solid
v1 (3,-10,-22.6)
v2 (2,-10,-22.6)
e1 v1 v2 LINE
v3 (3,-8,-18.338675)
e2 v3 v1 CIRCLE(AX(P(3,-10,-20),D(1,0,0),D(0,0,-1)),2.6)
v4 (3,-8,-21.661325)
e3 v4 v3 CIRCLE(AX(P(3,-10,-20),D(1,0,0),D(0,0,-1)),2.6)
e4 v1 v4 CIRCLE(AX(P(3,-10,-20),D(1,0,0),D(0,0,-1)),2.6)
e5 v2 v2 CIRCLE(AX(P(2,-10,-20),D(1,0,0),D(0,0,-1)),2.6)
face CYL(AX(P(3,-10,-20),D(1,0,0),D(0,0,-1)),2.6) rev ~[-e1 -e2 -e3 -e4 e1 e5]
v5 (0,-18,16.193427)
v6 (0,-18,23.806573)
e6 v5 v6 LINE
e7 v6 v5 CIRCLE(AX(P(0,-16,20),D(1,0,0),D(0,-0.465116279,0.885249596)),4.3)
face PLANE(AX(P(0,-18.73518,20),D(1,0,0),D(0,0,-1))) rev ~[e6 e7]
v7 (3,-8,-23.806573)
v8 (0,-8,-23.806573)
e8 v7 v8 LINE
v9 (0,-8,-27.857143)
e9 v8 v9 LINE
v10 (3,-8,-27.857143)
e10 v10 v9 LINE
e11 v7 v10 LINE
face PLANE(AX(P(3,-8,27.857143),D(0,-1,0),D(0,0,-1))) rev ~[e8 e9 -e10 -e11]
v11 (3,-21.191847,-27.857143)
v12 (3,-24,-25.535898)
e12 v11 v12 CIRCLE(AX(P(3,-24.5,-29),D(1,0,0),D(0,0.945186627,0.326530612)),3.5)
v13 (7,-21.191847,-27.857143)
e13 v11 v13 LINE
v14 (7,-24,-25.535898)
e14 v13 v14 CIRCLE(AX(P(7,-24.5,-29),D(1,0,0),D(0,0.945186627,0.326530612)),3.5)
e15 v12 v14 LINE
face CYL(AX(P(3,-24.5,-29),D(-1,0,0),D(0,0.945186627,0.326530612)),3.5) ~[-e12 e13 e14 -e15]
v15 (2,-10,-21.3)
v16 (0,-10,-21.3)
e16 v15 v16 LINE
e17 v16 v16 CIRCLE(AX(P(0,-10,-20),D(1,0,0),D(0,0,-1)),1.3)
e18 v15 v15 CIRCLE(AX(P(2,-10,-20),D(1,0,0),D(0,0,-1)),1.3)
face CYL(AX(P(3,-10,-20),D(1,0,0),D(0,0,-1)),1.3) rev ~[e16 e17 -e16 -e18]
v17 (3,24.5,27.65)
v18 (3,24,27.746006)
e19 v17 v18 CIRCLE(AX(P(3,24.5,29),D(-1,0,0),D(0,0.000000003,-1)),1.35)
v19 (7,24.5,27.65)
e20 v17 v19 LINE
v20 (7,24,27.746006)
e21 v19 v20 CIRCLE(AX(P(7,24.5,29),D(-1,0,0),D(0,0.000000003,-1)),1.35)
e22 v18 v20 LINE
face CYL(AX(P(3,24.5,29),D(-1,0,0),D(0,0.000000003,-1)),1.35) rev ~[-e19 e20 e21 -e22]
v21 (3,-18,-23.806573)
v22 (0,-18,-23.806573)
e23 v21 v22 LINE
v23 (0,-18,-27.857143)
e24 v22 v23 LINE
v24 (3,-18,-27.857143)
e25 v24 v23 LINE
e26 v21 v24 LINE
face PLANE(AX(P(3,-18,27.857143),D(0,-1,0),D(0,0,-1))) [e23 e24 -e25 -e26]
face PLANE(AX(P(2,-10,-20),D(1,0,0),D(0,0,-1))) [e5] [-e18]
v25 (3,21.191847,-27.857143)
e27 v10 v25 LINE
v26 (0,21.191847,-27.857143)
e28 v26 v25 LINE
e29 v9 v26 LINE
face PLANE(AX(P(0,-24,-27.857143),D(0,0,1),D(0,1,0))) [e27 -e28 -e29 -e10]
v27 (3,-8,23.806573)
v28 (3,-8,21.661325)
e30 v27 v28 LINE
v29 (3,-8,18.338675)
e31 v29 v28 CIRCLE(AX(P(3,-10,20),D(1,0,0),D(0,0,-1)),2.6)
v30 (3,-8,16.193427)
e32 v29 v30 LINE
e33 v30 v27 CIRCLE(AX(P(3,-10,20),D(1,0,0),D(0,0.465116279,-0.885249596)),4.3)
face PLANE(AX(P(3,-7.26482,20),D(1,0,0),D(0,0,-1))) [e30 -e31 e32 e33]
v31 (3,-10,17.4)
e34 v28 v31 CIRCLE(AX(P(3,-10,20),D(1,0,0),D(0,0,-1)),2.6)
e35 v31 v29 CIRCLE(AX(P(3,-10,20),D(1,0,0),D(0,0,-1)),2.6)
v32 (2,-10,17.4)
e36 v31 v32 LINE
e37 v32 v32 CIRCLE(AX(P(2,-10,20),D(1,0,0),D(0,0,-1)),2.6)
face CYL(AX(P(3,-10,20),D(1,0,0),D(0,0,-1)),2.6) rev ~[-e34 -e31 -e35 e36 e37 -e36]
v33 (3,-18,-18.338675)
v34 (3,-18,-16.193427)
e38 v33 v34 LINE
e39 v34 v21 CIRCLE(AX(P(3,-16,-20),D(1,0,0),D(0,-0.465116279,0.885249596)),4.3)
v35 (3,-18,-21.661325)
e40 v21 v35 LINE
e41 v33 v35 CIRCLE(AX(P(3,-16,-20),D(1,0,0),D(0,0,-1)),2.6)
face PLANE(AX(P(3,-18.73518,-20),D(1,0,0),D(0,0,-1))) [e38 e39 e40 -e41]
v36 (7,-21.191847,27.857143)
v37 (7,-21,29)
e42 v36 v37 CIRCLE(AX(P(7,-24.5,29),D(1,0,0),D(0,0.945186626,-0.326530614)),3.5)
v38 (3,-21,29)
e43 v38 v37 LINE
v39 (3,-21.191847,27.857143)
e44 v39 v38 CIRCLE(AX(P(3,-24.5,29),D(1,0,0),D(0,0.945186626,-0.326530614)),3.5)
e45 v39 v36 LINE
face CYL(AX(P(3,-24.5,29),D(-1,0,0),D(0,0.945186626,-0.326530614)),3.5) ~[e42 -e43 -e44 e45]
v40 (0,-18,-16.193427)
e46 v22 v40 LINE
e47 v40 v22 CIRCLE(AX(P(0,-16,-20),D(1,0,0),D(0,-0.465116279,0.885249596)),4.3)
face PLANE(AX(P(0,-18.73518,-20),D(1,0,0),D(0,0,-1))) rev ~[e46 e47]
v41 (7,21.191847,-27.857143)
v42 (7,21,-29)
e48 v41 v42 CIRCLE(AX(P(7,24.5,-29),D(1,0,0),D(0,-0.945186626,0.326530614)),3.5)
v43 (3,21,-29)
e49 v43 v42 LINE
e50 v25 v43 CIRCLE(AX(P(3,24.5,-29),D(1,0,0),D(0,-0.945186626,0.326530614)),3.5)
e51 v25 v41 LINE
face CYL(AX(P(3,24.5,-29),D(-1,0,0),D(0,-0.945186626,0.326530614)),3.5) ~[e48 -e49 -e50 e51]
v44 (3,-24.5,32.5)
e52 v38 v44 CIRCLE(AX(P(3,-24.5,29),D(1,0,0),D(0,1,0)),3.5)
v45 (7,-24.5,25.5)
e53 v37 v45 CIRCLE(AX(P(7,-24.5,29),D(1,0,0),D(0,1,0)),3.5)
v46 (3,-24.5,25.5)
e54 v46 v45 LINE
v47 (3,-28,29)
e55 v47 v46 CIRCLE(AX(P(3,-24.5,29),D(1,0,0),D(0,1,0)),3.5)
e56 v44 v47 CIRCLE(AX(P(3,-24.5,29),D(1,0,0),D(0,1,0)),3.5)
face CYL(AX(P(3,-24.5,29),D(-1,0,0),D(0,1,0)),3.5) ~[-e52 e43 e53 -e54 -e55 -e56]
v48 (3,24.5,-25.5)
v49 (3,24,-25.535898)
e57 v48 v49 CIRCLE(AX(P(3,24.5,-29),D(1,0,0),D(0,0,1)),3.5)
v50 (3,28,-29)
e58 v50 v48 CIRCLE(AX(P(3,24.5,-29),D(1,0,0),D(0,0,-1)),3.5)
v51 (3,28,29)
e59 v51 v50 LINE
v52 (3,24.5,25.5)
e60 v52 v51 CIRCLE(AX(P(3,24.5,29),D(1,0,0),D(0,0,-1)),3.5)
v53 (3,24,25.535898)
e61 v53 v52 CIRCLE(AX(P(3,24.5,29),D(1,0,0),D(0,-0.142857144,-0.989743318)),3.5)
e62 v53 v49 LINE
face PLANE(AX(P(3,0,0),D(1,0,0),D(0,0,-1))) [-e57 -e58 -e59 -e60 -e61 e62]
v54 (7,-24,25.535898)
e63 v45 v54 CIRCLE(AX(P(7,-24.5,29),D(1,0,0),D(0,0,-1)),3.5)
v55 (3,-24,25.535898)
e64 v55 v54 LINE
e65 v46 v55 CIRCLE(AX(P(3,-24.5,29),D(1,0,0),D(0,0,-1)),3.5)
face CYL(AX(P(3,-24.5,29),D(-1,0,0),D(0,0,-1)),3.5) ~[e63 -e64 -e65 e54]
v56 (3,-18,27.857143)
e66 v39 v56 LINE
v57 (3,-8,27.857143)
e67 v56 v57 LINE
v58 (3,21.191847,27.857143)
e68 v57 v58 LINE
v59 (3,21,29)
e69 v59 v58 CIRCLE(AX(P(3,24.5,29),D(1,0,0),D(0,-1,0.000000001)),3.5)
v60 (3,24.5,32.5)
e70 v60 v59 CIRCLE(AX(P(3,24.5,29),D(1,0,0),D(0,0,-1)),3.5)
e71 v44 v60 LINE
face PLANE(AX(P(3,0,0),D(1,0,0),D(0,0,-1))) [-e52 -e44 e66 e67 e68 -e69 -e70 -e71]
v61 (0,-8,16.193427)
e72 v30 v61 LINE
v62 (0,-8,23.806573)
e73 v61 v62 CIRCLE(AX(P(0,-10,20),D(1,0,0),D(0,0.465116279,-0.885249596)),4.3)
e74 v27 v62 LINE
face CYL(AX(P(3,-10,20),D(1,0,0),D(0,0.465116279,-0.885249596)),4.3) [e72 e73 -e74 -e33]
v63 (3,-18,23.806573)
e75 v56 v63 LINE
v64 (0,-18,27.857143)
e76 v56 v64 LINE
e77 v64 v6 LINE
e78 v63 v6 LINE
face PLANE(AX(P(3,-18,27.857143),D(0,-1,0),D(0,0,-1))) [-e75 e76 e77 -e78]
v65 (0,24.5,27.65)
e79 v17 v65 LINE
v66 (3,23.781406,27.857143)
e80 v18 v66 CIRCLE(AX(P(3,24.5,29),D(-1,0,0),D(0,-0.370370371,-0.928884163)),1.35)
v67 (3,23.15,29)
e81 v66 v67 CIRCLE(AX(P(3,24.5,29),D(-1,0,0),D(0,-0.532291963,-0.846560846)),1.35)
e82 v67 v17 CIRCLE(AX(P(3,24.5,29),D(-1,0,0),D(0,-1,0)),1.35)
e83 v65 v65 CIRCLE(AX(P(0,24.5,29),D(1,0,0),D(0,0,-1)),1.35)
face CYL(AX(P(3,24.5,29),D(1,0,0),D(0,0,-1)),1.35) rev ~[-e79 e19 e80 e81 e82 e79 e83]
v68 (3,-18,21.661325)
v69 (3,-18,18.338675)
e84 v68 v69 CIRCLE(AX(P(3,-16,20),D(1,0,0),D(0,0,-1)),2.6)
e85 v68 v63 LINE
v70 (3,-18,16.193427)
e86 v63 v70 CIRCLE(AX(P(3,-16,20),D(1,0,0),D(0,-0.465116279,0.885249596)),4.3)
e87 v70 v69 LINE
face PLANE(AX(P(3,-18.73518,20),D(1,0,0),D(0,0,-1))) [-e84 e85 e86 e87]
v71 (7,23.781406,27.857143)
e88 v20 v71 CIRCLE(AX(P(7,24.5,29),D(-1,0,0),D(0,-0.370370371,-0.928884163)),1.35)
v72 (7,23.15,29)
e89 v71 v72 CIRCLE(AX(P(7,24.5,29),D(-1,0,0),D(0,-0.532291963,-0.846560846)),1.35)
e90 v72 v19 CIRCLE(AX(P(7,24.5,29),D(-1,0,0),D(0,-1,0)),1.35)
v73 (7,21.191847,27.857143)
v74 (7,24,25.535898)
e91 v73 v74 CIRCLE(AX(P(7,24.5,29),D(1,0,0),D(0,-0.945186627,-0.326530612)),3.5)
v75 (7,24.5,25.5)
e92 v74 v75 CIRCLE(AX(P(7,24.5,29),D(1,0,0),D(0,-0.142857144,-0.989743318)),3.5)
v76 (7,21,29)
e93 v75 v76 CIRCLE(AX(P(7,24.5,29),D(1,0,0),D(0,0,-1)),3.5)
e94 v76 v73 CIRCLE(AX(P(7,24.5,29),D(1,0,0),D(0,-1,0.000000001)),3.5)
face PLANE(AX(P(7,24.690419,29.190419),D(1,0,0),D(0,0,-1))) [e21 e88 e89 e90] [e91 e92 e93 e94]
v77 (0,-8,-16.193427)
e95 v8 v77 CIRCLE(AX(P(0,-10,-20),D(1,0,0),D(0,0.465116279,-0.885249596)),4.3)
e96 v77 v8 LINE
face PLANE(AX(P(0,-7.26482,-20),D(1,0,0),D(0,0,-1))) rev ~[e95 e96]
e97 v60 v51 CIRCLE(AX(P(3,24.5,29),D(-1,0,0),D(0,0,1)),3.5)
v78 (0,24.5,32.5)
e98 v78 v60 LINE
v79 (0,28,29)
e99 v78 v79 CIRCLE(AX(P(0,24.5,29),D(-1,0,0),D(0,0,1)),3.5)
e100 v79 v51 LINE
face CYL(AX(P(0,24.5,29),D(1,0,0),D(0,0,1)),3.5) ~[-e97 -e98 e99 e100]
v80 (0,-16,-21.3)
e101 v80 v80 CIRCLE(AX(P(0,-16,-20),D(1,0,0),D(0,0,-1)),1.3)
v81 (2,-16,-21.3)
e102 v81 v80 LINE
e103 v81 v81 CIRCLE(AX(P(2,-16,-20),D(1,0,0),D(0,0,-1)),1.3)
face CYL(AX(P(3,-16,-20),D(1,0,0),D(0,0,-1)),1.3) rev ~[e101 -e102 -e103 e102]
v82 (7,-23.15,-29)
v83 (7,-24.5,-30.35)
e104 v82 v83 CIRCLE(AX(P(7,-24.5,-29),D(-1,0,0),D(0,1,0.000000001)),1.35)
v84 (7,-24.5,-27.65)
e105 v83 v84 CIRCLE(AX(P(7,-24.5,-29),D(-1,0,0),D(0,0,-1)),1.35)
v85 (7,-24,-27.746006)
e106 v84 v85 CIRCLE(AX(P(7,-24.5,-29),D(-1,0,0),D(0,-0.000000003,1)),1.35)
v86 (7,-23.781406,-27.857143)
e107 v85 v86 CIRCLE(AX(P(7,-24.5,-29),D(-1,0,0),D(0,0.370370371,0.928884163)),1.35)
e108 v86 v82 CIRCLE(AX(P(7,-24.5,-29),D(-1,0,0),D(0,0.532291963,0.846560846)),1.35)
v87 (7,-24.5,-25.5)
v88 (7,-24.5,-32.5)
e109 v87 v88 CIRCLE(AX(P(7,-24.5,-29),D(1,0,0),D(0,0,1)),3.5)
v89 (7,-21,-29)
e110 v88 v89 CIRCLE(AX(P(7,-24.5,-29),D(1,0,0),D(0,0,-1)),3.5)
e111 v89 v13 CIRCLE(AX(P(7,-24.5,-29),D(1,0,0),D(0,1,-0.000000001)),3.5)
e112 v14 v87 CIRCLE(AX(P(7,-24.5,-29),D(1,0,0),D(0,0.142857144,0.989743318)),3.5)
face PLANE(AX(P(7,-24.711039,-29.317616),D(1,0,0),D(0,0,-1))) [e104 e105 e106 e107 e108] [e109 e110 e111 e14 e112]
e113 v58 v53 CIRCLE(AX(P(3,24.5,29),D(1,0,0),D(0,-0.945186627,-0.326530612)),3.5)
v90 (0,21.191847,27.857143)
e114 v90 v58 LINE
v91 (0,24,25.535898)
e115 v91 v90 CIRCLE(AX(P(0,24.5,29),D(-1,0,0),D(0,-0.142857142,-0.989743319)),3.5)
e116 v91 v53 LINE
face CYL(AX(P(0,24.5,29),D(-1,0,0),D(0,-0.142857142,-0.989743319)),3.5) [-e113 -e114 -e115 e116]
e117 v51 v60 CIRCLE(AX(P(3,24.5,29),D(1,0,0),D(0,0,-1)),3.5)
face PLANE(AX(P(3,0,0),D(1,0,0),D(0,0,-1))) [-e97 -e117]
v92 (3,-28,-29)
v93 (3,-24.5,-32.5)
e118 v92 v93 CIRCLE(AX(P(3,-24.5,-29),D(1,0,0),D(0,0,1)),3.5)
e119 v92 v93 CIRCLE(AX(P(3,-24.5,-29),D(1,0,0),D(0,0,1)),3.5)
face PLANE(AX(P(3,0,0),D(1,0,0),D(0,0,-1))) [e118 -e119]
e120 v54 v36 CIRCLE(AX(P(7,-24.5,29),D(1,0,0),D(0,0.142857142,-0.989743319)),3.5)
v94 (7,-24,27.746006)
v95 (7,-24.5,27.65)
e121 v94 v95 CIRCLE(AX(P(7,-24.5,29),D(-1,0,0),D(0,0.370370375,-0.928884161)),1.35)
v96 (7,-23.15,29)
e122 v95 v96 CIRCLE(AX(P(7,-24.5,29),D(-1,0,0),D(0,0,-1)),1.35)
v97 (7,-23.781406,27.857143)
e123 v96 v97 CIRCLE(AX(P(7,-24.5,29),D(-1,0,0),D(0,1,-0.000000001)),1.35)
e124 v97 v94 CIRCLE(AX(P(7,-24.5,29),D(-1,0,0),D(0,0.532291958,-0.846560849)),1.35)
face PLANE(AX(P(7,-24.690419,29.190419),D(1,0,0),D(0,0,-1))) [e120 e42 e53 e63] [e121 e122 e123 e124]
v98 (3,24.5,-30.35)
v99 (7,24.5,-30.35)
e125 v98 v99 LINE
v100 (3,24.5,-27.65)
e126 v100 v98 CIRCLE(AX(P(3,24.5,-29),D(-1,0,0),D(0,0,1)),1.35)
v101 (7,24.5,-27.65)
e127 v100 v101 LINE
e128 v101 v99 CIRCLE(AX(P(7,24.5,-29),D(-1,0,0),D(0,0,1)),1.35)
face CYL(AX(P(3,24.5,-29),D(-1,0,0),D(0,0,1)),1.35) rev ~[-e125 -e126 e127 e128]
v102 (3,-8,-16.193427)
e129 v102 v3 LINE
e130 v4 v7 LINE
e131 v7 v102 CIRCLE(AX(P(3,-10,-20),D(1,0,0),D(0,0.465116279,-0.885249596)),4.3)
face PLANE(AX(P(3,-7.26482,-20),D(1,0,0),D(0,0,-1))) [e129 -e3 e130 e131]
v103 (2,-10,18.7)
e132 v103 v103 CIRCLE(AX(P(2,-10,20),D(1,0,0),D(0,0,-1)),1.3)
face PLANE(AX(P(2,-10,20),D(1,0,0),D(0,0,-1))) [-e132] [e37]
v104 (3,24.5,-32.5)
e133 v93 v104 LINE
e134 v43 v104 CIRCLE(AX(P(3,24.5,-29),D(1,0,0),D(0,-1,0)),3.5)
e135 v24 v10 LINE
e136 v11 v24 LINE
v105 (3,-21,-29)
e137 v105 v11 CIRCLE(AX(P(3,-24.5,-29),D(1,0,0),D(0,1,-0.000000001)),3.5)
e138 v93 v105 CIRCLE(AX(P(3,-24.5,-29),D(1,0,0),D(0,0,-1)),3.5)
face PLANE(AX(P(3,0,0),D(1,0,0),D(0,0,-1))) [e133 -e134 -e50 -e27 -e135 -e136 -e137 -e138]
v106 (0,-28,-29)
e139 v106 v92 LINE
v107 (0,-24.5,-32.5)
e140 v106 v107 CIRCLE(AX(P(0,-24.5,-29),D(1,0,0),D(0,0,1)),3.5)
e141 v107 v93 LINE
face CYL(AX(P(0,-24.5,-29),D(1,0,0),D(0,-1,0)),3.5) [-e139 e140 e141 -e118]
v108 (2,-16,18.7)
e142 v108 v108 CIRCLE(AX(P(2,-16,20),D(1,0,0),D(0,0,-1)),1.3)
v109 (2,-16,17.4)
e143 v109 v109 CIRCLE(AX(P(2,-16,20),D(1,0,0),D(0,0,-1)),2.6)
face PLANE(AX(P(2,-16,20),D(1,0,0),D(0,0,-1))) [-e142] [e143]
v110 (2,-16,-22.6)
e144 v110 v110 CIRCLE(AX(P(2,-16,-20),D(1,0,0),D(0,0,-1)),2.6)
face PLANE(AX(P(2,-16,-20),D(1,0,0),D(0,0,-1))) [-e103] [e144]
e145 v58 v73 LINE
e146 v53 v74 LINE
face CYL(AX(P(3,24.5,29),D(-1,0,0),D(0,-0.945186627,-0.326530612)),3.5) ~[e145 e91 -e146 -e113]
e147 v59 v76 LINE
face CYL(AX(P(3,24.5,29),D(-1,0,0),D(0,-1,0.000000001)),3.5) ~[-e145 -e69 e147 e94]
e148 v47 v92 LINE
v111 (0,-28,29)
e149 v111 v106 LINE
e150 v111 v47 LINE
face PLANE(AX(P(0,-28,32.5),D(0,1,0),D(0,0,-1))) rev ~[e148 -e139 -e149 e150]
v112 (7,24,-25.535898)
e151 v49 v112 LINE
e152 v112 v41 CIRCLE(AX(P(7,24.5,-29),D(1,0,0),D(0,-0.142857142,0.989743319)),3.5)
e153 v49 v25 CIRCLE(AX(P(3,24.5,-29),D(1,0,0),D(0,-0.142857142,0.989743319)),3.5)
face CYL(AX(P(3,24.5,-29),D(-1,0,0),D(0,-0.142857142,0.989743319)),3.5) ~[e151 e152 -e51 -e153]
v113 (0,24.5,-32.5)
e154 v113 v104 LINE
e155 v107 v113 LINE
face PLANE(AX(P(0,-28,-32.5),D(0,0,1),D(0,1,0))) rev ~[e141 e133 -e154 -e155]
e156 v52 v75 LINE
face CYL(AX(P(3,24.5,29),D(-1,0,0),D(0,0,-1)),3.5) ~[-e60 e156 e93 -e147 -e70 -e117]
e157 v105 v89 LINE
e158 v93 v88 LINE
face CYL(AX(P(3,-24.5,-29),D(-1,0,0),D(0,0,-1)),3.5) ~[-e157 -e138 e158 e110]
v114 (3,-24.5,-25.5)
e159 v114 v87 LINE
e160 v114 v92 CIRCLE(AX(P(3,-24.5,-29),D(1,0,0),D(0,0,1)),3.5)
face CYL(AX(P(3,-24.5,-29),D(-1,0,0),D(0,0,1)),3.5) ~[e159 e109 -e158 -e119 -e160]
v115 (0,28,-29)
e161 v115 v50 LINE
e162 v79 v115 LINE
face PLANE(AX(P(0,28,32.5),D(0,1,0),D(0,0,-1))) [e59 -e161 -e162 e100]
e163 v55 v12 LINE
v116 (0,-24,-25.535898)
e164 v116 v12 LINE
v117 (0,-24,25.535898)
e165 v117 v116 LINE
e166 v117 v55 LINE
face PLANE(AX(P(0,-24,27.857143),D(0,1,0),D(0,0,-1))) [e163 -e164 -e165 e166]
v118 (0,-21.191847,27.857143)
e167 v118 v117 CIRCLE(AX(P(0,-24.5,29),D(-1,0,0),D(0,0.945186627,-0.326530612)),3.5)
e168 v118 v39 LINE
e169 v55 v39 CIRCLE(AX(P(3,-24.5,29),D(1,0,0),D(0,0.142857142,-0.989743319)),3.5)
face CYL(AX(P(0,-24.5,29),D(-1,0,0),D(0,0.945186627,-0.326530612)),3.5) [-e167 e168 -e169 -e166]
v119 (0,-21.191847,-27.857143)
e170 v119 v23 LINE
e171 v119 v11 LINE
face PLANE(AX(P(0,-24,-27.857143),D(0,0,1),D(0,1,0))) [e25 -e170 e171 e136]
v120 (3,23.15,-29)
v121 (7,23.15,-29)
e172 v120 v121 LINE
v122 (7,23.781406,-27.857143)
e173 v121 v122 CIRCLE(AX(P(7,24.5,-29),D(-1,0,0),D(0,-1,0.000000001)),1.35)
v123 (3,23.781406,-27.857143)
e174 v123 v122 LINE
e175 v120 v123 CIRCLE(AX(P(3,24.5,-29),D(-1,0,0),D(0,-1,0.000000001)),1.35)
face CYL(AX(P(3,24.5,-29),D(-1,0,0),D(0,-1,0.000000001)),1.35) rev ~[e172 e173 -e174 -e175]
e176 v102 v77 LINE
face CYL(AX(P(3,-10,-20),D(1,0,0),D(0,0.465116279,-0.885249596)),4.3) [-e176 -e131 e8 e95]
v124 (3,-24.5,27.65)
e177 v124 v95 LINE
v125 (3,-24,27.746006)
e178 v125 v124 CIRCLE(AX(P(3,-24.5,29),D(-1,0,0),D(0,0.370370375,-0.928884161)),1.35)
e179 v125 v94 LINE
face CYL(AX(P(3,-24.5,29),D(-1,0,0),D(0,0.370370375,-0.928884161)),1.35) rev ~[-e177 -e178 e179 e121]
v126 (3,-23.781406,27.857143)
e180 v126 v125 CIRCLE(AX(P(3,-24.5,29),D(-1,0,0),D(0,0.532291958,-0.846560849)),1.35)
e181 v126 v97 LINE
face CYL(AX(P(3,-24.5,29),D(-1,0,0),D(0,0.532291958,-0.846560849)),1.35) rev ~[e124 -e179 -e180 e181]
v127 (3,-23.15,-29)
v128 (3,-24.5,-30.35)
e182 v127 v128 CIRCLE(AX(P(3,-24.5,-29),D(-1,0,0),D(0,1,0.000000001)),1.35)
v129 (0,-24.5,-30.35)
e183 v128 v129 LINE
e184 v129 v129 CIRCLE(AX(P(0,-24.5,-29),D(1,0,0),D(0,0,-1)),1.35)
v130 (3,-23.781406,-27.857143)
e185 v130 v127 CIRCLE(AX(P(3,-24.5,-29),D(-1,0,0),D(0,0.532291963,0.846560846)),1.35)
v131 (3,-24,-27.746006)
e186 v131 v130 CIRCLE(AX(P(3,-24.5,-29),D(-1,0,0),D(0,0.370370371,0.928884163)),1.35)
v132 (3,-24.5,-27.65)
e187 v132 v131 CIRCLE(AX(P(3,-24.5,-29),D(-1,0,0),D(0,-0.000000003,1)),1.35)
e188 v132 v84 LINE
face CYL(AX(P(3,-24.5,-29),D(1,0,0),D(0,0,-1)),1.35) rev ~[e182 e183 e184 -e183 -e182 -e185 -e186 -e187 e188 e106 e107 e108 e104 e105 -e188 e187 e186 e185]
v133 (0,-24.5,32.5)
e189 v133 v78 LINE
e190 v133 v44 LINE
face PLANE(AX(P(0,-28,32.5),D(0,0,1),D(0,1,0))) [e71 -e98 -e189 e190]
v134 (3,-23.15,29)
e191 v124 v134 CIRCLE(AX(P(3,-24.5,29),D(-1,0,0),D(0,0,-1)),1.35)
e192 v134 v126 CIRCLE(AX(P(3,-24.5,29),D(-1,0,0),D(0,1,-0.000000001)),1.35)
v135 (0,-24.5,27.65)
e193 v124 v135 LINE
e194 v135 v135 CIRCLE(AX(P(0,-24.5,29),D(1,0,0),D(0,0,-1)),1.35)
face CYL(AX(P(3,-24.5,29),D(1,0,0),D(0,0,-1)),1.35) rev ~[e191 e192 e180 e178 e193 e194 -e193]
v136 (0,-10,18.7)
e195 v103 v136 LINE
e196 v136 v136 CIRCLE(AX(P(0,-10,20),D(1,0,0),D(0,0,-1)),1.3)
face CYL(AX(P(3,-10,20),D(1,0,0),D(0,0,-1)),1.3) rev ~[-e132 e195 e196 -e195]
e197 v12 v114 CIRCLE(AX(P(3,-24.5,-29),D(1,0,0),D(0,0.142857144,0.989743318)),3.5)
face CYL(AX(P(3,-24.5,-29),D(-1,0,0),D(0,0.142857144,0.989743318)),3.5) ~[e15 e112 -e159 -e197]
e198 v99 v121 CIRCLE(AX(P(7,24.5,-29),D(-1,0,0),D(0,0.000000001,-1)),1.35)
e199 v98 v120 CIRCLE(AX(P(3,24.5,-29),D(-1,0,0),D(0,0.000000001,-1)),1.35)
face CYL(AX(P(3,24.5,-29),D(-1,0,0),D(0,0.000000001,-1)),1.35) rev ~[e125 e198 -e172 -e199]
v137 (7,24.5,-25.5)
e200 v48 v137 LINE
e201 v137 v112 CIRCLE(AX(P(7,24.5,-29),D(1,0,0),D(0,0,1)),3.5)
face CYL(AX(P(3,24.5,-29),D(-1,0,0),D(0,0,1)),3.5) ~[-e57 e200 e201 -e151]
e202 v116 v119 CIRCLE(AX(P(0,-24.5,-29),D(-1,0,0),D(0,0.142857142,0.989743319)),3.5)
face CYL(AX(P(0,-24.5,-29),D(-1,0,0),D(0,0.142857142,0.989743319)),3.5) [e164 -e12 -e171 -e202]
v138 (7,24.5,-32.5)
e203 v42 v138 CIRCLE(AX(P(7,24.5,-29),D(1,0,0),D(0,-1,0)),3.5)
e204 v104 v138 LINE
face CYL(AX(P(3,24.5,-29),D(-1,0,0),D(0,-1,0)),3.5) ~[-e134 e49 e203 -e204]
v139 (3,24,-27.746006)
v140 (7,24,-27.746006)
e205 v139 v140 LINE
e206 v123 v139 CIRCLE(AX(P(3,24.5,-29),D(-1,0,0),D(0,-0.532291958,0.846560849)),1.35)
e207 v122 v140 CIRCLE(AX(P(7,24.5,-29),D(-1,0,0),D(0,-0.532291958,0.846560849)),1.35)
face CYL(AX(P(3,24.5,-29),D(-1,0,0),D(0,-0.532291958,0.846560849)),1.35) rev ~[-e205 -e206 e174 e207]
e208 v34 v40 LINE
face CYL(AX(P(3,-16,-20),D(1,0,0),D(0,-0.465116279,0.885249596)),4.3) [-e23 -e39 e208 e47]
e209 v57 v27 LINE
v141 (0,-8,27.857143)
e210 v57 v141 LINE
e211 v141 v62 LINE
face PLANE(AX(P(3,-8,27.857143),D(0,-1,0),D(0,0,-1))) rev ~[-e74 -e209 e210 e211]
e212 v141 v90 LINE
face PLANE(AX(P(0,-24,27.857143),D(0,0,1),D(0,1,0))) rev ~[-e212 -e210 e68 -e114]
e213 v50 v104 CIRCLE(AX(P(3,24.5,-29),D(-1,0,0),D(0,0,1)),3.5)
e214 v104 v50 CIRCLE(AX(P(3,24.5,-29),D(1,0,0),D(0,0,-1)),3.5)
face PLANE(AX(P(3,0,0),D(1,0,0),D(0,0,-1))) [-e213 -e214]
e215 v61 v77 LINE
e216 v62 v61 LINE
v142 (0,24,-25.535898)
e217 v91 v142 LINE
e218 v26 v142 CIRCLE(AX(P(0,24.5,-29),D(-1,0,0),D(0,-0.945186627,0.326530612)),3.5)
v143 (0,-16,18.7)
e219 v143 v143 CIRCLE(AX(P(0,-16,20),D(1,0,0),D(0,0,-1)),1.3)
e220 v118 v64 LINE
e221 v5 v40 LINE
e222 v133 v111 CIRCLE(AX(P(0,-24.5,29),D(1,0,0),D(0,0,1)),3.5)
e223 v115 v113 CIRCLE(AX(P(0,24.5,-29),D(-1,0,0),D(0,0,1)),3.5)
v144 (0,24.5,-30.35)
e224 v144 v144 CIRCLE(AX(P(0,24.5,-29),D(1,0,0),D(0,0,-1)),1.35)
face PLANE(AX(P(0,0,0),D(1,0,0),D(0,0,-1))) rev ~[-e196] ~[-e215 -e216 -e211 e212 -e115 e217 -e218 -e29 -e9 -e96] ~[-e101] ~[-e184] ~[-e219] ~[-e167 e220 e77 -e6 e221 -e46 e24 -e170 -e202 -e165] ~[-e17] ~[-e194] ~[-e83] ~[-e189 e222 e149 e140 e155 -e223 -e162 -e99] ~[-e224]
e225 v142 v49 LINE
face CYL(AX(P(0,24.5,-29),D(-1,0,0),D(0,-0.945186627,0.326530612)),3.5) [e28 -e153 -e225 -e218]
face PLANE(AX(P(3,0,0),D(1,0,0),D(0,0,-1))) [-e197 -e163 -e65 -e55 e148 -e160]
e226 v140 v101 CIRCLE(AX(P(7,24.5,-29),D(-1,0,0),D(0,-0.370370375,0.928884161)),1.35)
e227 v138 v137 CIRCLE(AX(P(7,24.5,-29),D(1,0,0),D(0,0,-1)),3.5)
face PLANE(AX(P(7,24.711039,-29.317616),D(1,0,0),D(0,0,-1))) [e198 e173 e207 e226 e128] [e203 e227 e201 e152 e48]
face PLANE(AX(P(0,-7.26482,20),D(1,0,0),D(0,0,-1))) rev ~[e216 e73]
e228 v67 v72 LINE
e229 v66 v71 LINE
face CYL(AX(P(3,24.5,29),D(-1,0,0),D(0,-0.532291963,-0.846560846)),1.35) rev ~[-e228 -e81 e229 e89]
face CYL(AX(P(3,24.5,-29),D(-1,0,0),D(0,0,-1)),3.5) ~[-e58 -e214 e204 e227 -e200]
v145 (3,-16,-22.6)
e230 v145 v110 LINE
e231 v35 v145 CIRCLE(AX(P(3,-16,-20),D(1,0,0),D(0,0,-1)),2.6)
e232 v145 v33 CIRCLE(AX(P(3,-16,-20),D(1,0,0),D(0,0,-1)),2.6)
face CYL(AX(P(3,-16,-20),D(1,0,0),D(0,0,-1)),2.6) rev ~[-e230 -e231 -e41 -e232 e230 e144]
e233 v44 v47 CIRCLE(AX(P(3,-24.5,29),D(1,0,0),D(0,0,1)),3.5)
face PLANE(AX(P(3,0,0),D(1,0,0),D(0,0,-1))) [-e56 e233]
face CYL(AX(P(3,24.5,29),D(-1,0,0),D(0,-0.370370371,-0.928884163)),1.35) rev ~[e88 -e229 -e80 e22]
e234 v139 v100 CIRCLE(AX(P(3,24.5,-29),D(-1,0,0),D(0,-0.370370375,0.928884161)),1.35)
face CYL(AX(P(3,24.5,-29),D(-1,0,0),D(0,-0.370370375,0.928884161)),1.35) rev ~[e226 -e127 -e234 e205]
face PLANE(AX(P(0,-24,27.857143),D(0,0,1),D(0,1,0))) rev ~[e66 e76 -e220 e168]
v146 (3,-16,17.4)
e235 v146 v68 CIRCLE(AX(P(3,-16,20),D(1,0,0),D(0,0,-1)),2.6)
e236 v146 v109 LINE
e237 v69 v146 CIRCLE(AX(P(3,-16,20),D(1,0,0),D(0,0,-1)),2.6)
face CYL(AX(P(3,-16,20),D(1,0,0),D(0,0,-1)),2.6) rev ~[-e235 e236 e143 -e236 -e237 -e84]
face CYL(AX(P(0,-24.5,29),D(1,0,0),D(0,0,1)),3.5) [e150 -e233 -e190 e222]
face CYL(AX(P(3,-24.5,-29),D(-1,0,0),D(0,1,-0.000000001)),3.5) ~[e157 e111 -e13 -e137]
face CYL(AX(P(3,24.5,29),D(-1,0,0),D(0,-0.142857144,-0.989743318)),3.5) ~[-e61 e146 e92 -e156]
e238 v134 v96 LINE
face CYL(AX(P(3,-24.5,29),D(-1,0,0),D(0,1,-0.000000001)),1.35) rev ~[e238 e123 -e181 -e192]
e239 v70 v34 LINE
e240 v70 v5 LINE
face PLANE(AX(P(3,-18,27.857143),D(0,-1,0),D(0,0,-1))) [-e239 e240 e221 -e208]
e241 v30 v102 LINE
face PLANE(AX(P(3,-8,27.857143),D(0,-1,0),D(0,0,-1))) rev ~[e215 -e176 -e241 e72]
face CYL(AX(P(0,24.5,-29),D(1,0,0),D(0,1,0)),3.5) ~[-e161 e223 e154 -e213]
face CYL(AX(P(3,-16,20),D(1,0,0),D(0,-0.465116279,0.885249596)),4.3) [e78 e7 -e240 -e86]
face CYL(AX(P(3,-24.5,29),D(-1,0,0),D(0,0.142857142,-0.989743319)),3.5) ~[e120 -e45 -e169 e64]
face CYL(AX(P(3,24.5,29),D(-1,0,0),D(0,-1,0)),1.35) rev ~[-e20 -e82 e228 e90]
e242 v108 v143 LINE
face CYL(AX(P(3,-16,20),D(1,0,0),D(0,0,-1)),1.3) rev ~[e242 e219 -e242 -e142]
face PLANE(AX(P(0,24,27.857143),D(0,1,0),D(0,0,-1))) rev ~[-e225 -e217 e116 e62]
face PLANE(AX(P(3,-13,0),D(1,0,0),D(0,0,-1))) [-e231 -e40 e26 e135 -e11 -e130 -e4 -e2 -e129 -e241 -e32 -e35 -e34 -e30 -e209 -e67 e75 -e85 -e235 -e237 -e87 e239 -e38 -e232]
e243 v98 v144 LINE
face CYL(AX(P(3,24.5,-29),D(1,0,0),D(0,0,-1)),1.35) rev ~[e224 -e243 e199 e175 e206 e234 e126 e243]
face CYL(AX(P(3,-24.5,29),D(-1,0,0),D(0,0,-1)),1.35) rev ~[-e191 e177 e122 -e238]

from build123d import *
from build123d.topology import SkipClean

# Parameters (mm, degrees)
SKETCH1_W           = 65
SKETCH1_H           = 56
SKETCH1_W_2         = 55.714285714
SKETCH1_H_2         = 48
BOSS_EXTRUDE1_DEPTH = 3
BOSS_EXTRUDE2_DEPTH = 4
BOSS_EXTRUDE3_DEPTH = 3
SKETCH4_R           = 1.35
CUT_EXTRUDE1_DEPTH  = 44.084219849
FILLET1_R           = 3.5
SKETCH5_W           = 55.714285714
SKETCH5_H           = 10
BOSS_EXTRUDE4_DEPTH = 3
SKETCH6_R           = 1.3
CUT_EXTRUDE2_DEPTH  = 44.084219849
BOSS_EXTRUDE5_DEPTH = 3
SKETCH8_R           = 2.6
CUT_EXTRUDE3_DEPTH  = 1


with BuildPart() as part:
    # Sketch1 → Boss-Extrude1 (new body)
    with BuildSketch(Plane(origin=(0, 0, 0), x_dir=(0, 0, -1), z_dir=(1, 0, 0))):
        Rectangle(SKETCH1_W, SKETCH1_H)
        Rectangle(SKETCH1_W_2, SKETCH1_H_2, mode=Mode.SUBTRACT)
    extrude(amount=BOSS_EXTRUDE1_DEPTH)

    # Sketch2 → Boss-Extrude2 (add)
    with BuildSketch(Plane(origin=(3, 0, 0), x_dir=(0, 0, -1), z_dir=(1, 0, 0))):
        with BuildLine():
            ThreePointArc((-25.5, 24.5), (-31.474873734, 26.974873734), (-29, 21))
            Line((-29, 21), (-29, 23.15))
            ThreePointArc((-29, 23.15), (-29.954594155, 25.454594155), (-27.65, 24.5))
            Line((-27.65, 24.5), (-25.5, 24.5))
        make_face()
        with BuildLine():
            Line((-29, 23.15), (-29, 21))
            ThreePointArc((-29, 21), (-28.420576225, 21.048294901), (-27.857142857, 21.191846807))
            Line((-27.857142857, 21.191846807), (-27.857142857, 23.781405851))
            ThreePointArc((-27.857142857, 23.781405851), (-28.347160855, 23.318348169), (-29, 23.15))
        make_face()
        with BuildLine():
            Line((-27.857142857, 23.781405851), (-27.857142857, 21.191846807))
            ThreePointArc((-27.857142857, 21.191846807), (-26.302325383, 22.270078104), (-25.535898385, 24))
            Line((-25.535898385, 24), (-27.74600638, 24))
            ThreePointArc((-27.74600638, 24), (-27.796600962, 23.888174245), (-27.857142857, 23.781405851))
        make_face()
        with BuildLine():
            ThreePointArc((-25.535898385, 24), (-25.508986132, 24.249356481), (-25.5, 24.5))
            Line((-25.5, 24.5), (-27.65, 24.5))
            ThreePointArc((-27.65, 24.5), (-27.674218836, 24.245433101), (-27.74600638, 24))
            Line((-27.74600638, 24), (-25.535898385, 24))
        make_face()
        with BuildLine():
            Line((29, 23.15), (29, 21))
            ThreePointArc((29, 21), (31.474873734, 22.025126266), (32.5, 24.5))
            ThreePointArc((32.5, 24.5), (29, 28), (25.5, 24.5))
            Line((25.5, 24.5), (27.65, 24.5))
            ThreePointArc((27.65, 24.5), (29, 25.85), (30.35, 24.5))
            ThreePointArc((30.35, 24.5), (29.954594155, 23.545405845), (29, 23.15))
        make_face()
        with BuildLine():
            Line((27.65, 24.5), (25.5, 24.5))
            ThreePointArc((25.5, 24.5), (25.508986132, 24.249356481), (25.535898385, 24))
            Line((25.535898385, 24), (27.74600638, 24))
            ThreePointArc((27.74600638, 24), (27.674218836, 24.245433101), (27.65, 24.5))
        make_face()
        with BuildLine():
            ThreePointArc((25.535898385, 24), (26.302325383, 22.270078104), (27.857142857, 21.191846807))
            Line((27.857142857, 21.191846807), (27.857142857, 23.781405851))
            ThreePointArc((27.857142857, 23.781405851), (27.796600962, 23.888174245), (27.74600638, 24))
            Line((27.74600638, 24), (25.535898385, 24))
        make_face()
        with BuildLine():
            Line((27.857142857, 23.781405851), (27.857142857, 21.191846807))
            ThreePointArc((27.857142857, 21.191846807), (28.420576225, 21.048294901), (29, 21))
            Line((29, 21), (29, 23.15))
            ThreePointArc((29, 23.15), (28.347160855, 23.318348169), (27.857142857, 23.781405851))
        make_face()
        with BuildLine():
            Line((27.65, -24.5), (25.5, -24.5))
            ThreePointArc((25.5, -24.5), (29, -28), (32.5, -24.5))
            ThreePointArc((32.5, -24.5), (31.474873734, -22.025126266), (29, -21))
            Line((29, -21), (29, -23.15))
            ThreePointArc((29, -23.15), (29.954594155, -23.545405845), (30.35, -24.5))
            ThreePointArc((30.35, -24.5), (29, -25.85), (27.65, -24.5))
        make_face()
        with BuildLine():
            ThreePointArc((29, -21), (28.420576225, -21.048294901), (27.857142857, -21.191846807))
            Line((27.857142857, -21.191846807), (27.857142857, -23.781405851))
            ThreePointArc((27.857142857, -23.781405851), (28.347160855, -23.318348169), (29, -23.15))
            Line((29, -23.15), (29, -21))
        make_face()
        with BuildLine():
            ThreePointArc((27.857142857, -21.191846807), (26.302325383, -22.270078104), (25.535898385, -24))
            Line((25.535898385, -24), (27.74600638, -24))
            ThreePointArc((27.74600638, -24), (27.796600962, -23.888174245), (27.857142857, -23.781405851))
            Line((27.857142857, -23.781405851), (27.857142857, -21.191846807))
        make_face()
        with BuildLine():
            ThreePointArc((25.535898385, -24), (25.508986132, -24.249356481), (25.5, -24.5))
            Line((25.5, -24.5), (27.65, -24.5))
            ThreePointArc((27.65, -24.5), (27.674218836, -24.245433101), (27.74600638, -24))
            Line((27.74600638, -24), (25.535898385, -24))
        make_face()
        with BuildLine():
            ThreePointArc((-29, -21), (-31.474873734, -26.974873734), (-25.5, -24.5))
            Line((-25.5, -24.5), (-27.65, -24.5))
            ThreePointArc((-27.65, -24.5), (-29.954594155, -25.454594155), (-29, -23.15))
            Line((-29, -23.15), (-29, -21))
        make_face()
        with BuildLine():
            ThreePointArc((-27.857142857, -21.191846807), (-28.420576225, -21.048294901), (-29, -21))
            Line((-29, -21), (-29, -23.15))
            ThreePointArc((-29, -23.15), (-28.347160855, -23.318348169), (-27.857142857, -23.781405851))
            Line((-27.857142857, -23.781405851), (-27.857142857, -21.191846807))
        make_face()
        with BuildLine():
            Line((-27.74600638, -24), (-25.535898385, -24))
            ThreePointArc((-25.535898385, -24), (-26.302325383, -22.270078104), (-27.857142857, -21.191846807))
            Line((-27.857142857, -21.191846807), (-27.857142857, -23.781405851))
            ThreePointArc((-27.857142857, -23.781405851), (-27.796600962, -23.888174245), (-27.74600638, -24))
        make_face()
        with BuildLine():
            Line((-27.65, -24.5), (-25.5, -24.5))
            ThreePointArc((-25.5, -24.5), (-25.508986132, -24.249356481), (-25.535898385, -24))
            Line((-25.535898385, -24), (-27.74600638, -24))
            ThreePointArc((-27.74600638, -24), (-27.674218836, -24.245433101), (-27.65, -24.5))
        make_face()
    extrude(amount=BOSS_EXTRUDE2_DEPTH)

    # Sketch3 → Boss-Extrude3 (add)
    with SkipClean():  # the faces are left unmerged after this step: merging them gives an invalid solid
        with BuildSketch(Plane.ZY):
            with BuildLine():
                Line((-27.74600638, 24), (-27.857142857, 24))
                Line((-27.857142857, 24), (-27.857142857, 23.781405851))
                Line((-27.857142857, 23.781405851), (-27.857142857, 21.191846807))
                ThreePointArc((-27.857142857, 21.191846807), (-26.302325383, 22.270078104), (-25.535898385, 24))
                Line((-25.535898385, 24), (-27.74600638, 24))
            make_face()
            with BuildLine():
                Line((27.857142857, 21.191846807), (27.857142857, 23.781405851))
                Line((27.857142857, 23.781405851), (27.857142857, 24))
                Line((27.857142857, 24), (27.74600638, 24))
                Line((27.74600638, 24), (25.535898385, 24))
                ThreePointArc((25.535898385, 24), (26.302325383, 22.270078104), (27.857142857, 21.191846807))
            make_face()
            with BuildLine():
                Line((-27.857142857, -21.191846807), (-27.857142857, -23.781405851))
                Line((-27.857142857, -23.781405851), (-27.857142857, -24))
                Line((-27.857142857, -24), (-27.74600638, -24))
                Line((-27.74600638, -24), (-25.535898385, -24))
                ThreePointArc((-25.535898385, -24), (-26.302325383, -22.270078104), (-27.857142857, -21.191846807))
            make_face()
            with BuildLine():
                Line((27.857142857, -23.781405851), (27.857142857, -21.191846807))
                ThreePointArc((27.857142857, -21.191846807), (26.302325383, -22.270078104), (25.535898385, -24))
                Line((25.535898385, -24), (27.74600638, -24))
                Line((27.74600638, -24), (27.857142857, -24))
                Line((27.857142857, -24), (27.857142857, -23.781405851))
            make_face()
        extrude(amount=-BOSS_EXTRUDE3_DEPTH)

    # Sketch4 → Cut-Extrude1 (cut, through all)
    with BuildSketch(Plane(origin=(3, 0, 0), x_dir=(0, 0, -1), z_dir=(1, 0, 0))):
        with Locations((29, -24.5)):
            Circle(SKETCH4_R)
        with Locations((-29, -24.5)):
            Circle(SKETCH4_R)
        with Locations((29, 24.5)):
            Circle(SKETCH4_R)
        with Locations((-29, 24.5)):
            Circle(SKETCH4_R)
    extrude(amount=-CUT_EXTRUDE1_DEPTH, mode=Mode.SUBTRACT)

    # Fillet1
    fillet1_edges = [part.edges().sort_by_distance(p)[0] for p in [
        (1.5, -28, 32.5),
        (1.5, 28, 32.5),
        (1.5, -28, -32.5),
        (1.5, 28, -32.5),
    ]]
    fillet(fillet1_edges, radius=FILLET1_R)

    # Sketch5 → Boss-Extrude4 (add)
    with BuildSketch(Plane(origin=(3, 0, 0), x_dir=(0, 0, -1), z_dir=(1, 0, 0))):
        with Locations((0, -13)):
            Rectangle(SKETCH5_W, SKETCH5_H)
    extrude(amount=-BOSS_EXTRUDE4_DEPTH)

    # Sketch6 → Cut-Extrude2 (cut, through all)
    with SkipClean():  # the faces are left unmerged after this step: merging them gives an invalid solid
        with BuildSketch(Plane(origin=(3, 0, 0), x_dir=(0, 0, -1), z_dir=(1, 0, 0))):
            with Locations((-20, -10)):
                Circle(SKETCH6_R)
            with Locations((-20, -16)):
                Circle(SKETCH6_R)
            with Locations((20, -10)):
                Circle(SKETCH6_R)
            with Locations((20, -16)):
                Circle(SKETCH6_R)
        extrude(amount=-CUT_EXTRUDE2_DEPTH, mode=Mode.SUBTRACT)

    # Sketch7 → Boss-Extrude5 (add)
    with SkipClean():  # the faces are left unmerged after this step: merging them gives an invalid solid
        with BuildSketch(Plane(origin=(3, 0, 0), x_dir=(0, 0, -1), z_dir=(1, 0, 0))):
            with BuildLine():
                Line((-23.806573262, -8), (-16.193426738, -8))
                ThreePointArc((-16.193426738, -8), (-20, -5.7), (-23.806573262, -8))
            make_face()
            with BuildLine():
                Line((16.193426738, -8), (23.806573262, -8))
                ThreePointArc((23.806573262, -8), (20, -5.7), (16.193426738, -8))
            make_face()
            with BuildLine():
                ThreePointArc((-23.806573262, -18), (-20, -20.3), (-16.193426738, -18))
                Line((-16.193426738, -18), (-23.806573262, -18))
            make_face()
            with BuildLine():
                Line((23.806573262, -18), (16.193426738, -18))
                ThreePointArc((16.193426738, -18), (20, -20.3), (23.806573262, -18))
            make_face()
        extrude(amount=-BOSS_EXTRUDE5_DEPTH)

    # Sketch8 → Cut-Extrude3 (cut)
    with SkipClean():  # the faces are left unmerged after this step: merging them gives an invalid solid
        with BuildSketch(Plane(origin=(3, 0, 0), x_dir=(0, 0, -1), z_dir=(1, 0, 0))):
            with Locations((-20, -10)):
                Circle(SKETCH8_R)
            with Locations((-20, -16)):
                Circle(SKETCH8_R)
            with Locations((20, -10)):
                Circle(SKETCH8_R)
            with Locations((20, -16)):
                Circle(SKETCH8_R)
        extrude(amount=-CUT_EXTRUDE3_DEPTH, mode=Mode.SUBTRACT)


solid = part.part
